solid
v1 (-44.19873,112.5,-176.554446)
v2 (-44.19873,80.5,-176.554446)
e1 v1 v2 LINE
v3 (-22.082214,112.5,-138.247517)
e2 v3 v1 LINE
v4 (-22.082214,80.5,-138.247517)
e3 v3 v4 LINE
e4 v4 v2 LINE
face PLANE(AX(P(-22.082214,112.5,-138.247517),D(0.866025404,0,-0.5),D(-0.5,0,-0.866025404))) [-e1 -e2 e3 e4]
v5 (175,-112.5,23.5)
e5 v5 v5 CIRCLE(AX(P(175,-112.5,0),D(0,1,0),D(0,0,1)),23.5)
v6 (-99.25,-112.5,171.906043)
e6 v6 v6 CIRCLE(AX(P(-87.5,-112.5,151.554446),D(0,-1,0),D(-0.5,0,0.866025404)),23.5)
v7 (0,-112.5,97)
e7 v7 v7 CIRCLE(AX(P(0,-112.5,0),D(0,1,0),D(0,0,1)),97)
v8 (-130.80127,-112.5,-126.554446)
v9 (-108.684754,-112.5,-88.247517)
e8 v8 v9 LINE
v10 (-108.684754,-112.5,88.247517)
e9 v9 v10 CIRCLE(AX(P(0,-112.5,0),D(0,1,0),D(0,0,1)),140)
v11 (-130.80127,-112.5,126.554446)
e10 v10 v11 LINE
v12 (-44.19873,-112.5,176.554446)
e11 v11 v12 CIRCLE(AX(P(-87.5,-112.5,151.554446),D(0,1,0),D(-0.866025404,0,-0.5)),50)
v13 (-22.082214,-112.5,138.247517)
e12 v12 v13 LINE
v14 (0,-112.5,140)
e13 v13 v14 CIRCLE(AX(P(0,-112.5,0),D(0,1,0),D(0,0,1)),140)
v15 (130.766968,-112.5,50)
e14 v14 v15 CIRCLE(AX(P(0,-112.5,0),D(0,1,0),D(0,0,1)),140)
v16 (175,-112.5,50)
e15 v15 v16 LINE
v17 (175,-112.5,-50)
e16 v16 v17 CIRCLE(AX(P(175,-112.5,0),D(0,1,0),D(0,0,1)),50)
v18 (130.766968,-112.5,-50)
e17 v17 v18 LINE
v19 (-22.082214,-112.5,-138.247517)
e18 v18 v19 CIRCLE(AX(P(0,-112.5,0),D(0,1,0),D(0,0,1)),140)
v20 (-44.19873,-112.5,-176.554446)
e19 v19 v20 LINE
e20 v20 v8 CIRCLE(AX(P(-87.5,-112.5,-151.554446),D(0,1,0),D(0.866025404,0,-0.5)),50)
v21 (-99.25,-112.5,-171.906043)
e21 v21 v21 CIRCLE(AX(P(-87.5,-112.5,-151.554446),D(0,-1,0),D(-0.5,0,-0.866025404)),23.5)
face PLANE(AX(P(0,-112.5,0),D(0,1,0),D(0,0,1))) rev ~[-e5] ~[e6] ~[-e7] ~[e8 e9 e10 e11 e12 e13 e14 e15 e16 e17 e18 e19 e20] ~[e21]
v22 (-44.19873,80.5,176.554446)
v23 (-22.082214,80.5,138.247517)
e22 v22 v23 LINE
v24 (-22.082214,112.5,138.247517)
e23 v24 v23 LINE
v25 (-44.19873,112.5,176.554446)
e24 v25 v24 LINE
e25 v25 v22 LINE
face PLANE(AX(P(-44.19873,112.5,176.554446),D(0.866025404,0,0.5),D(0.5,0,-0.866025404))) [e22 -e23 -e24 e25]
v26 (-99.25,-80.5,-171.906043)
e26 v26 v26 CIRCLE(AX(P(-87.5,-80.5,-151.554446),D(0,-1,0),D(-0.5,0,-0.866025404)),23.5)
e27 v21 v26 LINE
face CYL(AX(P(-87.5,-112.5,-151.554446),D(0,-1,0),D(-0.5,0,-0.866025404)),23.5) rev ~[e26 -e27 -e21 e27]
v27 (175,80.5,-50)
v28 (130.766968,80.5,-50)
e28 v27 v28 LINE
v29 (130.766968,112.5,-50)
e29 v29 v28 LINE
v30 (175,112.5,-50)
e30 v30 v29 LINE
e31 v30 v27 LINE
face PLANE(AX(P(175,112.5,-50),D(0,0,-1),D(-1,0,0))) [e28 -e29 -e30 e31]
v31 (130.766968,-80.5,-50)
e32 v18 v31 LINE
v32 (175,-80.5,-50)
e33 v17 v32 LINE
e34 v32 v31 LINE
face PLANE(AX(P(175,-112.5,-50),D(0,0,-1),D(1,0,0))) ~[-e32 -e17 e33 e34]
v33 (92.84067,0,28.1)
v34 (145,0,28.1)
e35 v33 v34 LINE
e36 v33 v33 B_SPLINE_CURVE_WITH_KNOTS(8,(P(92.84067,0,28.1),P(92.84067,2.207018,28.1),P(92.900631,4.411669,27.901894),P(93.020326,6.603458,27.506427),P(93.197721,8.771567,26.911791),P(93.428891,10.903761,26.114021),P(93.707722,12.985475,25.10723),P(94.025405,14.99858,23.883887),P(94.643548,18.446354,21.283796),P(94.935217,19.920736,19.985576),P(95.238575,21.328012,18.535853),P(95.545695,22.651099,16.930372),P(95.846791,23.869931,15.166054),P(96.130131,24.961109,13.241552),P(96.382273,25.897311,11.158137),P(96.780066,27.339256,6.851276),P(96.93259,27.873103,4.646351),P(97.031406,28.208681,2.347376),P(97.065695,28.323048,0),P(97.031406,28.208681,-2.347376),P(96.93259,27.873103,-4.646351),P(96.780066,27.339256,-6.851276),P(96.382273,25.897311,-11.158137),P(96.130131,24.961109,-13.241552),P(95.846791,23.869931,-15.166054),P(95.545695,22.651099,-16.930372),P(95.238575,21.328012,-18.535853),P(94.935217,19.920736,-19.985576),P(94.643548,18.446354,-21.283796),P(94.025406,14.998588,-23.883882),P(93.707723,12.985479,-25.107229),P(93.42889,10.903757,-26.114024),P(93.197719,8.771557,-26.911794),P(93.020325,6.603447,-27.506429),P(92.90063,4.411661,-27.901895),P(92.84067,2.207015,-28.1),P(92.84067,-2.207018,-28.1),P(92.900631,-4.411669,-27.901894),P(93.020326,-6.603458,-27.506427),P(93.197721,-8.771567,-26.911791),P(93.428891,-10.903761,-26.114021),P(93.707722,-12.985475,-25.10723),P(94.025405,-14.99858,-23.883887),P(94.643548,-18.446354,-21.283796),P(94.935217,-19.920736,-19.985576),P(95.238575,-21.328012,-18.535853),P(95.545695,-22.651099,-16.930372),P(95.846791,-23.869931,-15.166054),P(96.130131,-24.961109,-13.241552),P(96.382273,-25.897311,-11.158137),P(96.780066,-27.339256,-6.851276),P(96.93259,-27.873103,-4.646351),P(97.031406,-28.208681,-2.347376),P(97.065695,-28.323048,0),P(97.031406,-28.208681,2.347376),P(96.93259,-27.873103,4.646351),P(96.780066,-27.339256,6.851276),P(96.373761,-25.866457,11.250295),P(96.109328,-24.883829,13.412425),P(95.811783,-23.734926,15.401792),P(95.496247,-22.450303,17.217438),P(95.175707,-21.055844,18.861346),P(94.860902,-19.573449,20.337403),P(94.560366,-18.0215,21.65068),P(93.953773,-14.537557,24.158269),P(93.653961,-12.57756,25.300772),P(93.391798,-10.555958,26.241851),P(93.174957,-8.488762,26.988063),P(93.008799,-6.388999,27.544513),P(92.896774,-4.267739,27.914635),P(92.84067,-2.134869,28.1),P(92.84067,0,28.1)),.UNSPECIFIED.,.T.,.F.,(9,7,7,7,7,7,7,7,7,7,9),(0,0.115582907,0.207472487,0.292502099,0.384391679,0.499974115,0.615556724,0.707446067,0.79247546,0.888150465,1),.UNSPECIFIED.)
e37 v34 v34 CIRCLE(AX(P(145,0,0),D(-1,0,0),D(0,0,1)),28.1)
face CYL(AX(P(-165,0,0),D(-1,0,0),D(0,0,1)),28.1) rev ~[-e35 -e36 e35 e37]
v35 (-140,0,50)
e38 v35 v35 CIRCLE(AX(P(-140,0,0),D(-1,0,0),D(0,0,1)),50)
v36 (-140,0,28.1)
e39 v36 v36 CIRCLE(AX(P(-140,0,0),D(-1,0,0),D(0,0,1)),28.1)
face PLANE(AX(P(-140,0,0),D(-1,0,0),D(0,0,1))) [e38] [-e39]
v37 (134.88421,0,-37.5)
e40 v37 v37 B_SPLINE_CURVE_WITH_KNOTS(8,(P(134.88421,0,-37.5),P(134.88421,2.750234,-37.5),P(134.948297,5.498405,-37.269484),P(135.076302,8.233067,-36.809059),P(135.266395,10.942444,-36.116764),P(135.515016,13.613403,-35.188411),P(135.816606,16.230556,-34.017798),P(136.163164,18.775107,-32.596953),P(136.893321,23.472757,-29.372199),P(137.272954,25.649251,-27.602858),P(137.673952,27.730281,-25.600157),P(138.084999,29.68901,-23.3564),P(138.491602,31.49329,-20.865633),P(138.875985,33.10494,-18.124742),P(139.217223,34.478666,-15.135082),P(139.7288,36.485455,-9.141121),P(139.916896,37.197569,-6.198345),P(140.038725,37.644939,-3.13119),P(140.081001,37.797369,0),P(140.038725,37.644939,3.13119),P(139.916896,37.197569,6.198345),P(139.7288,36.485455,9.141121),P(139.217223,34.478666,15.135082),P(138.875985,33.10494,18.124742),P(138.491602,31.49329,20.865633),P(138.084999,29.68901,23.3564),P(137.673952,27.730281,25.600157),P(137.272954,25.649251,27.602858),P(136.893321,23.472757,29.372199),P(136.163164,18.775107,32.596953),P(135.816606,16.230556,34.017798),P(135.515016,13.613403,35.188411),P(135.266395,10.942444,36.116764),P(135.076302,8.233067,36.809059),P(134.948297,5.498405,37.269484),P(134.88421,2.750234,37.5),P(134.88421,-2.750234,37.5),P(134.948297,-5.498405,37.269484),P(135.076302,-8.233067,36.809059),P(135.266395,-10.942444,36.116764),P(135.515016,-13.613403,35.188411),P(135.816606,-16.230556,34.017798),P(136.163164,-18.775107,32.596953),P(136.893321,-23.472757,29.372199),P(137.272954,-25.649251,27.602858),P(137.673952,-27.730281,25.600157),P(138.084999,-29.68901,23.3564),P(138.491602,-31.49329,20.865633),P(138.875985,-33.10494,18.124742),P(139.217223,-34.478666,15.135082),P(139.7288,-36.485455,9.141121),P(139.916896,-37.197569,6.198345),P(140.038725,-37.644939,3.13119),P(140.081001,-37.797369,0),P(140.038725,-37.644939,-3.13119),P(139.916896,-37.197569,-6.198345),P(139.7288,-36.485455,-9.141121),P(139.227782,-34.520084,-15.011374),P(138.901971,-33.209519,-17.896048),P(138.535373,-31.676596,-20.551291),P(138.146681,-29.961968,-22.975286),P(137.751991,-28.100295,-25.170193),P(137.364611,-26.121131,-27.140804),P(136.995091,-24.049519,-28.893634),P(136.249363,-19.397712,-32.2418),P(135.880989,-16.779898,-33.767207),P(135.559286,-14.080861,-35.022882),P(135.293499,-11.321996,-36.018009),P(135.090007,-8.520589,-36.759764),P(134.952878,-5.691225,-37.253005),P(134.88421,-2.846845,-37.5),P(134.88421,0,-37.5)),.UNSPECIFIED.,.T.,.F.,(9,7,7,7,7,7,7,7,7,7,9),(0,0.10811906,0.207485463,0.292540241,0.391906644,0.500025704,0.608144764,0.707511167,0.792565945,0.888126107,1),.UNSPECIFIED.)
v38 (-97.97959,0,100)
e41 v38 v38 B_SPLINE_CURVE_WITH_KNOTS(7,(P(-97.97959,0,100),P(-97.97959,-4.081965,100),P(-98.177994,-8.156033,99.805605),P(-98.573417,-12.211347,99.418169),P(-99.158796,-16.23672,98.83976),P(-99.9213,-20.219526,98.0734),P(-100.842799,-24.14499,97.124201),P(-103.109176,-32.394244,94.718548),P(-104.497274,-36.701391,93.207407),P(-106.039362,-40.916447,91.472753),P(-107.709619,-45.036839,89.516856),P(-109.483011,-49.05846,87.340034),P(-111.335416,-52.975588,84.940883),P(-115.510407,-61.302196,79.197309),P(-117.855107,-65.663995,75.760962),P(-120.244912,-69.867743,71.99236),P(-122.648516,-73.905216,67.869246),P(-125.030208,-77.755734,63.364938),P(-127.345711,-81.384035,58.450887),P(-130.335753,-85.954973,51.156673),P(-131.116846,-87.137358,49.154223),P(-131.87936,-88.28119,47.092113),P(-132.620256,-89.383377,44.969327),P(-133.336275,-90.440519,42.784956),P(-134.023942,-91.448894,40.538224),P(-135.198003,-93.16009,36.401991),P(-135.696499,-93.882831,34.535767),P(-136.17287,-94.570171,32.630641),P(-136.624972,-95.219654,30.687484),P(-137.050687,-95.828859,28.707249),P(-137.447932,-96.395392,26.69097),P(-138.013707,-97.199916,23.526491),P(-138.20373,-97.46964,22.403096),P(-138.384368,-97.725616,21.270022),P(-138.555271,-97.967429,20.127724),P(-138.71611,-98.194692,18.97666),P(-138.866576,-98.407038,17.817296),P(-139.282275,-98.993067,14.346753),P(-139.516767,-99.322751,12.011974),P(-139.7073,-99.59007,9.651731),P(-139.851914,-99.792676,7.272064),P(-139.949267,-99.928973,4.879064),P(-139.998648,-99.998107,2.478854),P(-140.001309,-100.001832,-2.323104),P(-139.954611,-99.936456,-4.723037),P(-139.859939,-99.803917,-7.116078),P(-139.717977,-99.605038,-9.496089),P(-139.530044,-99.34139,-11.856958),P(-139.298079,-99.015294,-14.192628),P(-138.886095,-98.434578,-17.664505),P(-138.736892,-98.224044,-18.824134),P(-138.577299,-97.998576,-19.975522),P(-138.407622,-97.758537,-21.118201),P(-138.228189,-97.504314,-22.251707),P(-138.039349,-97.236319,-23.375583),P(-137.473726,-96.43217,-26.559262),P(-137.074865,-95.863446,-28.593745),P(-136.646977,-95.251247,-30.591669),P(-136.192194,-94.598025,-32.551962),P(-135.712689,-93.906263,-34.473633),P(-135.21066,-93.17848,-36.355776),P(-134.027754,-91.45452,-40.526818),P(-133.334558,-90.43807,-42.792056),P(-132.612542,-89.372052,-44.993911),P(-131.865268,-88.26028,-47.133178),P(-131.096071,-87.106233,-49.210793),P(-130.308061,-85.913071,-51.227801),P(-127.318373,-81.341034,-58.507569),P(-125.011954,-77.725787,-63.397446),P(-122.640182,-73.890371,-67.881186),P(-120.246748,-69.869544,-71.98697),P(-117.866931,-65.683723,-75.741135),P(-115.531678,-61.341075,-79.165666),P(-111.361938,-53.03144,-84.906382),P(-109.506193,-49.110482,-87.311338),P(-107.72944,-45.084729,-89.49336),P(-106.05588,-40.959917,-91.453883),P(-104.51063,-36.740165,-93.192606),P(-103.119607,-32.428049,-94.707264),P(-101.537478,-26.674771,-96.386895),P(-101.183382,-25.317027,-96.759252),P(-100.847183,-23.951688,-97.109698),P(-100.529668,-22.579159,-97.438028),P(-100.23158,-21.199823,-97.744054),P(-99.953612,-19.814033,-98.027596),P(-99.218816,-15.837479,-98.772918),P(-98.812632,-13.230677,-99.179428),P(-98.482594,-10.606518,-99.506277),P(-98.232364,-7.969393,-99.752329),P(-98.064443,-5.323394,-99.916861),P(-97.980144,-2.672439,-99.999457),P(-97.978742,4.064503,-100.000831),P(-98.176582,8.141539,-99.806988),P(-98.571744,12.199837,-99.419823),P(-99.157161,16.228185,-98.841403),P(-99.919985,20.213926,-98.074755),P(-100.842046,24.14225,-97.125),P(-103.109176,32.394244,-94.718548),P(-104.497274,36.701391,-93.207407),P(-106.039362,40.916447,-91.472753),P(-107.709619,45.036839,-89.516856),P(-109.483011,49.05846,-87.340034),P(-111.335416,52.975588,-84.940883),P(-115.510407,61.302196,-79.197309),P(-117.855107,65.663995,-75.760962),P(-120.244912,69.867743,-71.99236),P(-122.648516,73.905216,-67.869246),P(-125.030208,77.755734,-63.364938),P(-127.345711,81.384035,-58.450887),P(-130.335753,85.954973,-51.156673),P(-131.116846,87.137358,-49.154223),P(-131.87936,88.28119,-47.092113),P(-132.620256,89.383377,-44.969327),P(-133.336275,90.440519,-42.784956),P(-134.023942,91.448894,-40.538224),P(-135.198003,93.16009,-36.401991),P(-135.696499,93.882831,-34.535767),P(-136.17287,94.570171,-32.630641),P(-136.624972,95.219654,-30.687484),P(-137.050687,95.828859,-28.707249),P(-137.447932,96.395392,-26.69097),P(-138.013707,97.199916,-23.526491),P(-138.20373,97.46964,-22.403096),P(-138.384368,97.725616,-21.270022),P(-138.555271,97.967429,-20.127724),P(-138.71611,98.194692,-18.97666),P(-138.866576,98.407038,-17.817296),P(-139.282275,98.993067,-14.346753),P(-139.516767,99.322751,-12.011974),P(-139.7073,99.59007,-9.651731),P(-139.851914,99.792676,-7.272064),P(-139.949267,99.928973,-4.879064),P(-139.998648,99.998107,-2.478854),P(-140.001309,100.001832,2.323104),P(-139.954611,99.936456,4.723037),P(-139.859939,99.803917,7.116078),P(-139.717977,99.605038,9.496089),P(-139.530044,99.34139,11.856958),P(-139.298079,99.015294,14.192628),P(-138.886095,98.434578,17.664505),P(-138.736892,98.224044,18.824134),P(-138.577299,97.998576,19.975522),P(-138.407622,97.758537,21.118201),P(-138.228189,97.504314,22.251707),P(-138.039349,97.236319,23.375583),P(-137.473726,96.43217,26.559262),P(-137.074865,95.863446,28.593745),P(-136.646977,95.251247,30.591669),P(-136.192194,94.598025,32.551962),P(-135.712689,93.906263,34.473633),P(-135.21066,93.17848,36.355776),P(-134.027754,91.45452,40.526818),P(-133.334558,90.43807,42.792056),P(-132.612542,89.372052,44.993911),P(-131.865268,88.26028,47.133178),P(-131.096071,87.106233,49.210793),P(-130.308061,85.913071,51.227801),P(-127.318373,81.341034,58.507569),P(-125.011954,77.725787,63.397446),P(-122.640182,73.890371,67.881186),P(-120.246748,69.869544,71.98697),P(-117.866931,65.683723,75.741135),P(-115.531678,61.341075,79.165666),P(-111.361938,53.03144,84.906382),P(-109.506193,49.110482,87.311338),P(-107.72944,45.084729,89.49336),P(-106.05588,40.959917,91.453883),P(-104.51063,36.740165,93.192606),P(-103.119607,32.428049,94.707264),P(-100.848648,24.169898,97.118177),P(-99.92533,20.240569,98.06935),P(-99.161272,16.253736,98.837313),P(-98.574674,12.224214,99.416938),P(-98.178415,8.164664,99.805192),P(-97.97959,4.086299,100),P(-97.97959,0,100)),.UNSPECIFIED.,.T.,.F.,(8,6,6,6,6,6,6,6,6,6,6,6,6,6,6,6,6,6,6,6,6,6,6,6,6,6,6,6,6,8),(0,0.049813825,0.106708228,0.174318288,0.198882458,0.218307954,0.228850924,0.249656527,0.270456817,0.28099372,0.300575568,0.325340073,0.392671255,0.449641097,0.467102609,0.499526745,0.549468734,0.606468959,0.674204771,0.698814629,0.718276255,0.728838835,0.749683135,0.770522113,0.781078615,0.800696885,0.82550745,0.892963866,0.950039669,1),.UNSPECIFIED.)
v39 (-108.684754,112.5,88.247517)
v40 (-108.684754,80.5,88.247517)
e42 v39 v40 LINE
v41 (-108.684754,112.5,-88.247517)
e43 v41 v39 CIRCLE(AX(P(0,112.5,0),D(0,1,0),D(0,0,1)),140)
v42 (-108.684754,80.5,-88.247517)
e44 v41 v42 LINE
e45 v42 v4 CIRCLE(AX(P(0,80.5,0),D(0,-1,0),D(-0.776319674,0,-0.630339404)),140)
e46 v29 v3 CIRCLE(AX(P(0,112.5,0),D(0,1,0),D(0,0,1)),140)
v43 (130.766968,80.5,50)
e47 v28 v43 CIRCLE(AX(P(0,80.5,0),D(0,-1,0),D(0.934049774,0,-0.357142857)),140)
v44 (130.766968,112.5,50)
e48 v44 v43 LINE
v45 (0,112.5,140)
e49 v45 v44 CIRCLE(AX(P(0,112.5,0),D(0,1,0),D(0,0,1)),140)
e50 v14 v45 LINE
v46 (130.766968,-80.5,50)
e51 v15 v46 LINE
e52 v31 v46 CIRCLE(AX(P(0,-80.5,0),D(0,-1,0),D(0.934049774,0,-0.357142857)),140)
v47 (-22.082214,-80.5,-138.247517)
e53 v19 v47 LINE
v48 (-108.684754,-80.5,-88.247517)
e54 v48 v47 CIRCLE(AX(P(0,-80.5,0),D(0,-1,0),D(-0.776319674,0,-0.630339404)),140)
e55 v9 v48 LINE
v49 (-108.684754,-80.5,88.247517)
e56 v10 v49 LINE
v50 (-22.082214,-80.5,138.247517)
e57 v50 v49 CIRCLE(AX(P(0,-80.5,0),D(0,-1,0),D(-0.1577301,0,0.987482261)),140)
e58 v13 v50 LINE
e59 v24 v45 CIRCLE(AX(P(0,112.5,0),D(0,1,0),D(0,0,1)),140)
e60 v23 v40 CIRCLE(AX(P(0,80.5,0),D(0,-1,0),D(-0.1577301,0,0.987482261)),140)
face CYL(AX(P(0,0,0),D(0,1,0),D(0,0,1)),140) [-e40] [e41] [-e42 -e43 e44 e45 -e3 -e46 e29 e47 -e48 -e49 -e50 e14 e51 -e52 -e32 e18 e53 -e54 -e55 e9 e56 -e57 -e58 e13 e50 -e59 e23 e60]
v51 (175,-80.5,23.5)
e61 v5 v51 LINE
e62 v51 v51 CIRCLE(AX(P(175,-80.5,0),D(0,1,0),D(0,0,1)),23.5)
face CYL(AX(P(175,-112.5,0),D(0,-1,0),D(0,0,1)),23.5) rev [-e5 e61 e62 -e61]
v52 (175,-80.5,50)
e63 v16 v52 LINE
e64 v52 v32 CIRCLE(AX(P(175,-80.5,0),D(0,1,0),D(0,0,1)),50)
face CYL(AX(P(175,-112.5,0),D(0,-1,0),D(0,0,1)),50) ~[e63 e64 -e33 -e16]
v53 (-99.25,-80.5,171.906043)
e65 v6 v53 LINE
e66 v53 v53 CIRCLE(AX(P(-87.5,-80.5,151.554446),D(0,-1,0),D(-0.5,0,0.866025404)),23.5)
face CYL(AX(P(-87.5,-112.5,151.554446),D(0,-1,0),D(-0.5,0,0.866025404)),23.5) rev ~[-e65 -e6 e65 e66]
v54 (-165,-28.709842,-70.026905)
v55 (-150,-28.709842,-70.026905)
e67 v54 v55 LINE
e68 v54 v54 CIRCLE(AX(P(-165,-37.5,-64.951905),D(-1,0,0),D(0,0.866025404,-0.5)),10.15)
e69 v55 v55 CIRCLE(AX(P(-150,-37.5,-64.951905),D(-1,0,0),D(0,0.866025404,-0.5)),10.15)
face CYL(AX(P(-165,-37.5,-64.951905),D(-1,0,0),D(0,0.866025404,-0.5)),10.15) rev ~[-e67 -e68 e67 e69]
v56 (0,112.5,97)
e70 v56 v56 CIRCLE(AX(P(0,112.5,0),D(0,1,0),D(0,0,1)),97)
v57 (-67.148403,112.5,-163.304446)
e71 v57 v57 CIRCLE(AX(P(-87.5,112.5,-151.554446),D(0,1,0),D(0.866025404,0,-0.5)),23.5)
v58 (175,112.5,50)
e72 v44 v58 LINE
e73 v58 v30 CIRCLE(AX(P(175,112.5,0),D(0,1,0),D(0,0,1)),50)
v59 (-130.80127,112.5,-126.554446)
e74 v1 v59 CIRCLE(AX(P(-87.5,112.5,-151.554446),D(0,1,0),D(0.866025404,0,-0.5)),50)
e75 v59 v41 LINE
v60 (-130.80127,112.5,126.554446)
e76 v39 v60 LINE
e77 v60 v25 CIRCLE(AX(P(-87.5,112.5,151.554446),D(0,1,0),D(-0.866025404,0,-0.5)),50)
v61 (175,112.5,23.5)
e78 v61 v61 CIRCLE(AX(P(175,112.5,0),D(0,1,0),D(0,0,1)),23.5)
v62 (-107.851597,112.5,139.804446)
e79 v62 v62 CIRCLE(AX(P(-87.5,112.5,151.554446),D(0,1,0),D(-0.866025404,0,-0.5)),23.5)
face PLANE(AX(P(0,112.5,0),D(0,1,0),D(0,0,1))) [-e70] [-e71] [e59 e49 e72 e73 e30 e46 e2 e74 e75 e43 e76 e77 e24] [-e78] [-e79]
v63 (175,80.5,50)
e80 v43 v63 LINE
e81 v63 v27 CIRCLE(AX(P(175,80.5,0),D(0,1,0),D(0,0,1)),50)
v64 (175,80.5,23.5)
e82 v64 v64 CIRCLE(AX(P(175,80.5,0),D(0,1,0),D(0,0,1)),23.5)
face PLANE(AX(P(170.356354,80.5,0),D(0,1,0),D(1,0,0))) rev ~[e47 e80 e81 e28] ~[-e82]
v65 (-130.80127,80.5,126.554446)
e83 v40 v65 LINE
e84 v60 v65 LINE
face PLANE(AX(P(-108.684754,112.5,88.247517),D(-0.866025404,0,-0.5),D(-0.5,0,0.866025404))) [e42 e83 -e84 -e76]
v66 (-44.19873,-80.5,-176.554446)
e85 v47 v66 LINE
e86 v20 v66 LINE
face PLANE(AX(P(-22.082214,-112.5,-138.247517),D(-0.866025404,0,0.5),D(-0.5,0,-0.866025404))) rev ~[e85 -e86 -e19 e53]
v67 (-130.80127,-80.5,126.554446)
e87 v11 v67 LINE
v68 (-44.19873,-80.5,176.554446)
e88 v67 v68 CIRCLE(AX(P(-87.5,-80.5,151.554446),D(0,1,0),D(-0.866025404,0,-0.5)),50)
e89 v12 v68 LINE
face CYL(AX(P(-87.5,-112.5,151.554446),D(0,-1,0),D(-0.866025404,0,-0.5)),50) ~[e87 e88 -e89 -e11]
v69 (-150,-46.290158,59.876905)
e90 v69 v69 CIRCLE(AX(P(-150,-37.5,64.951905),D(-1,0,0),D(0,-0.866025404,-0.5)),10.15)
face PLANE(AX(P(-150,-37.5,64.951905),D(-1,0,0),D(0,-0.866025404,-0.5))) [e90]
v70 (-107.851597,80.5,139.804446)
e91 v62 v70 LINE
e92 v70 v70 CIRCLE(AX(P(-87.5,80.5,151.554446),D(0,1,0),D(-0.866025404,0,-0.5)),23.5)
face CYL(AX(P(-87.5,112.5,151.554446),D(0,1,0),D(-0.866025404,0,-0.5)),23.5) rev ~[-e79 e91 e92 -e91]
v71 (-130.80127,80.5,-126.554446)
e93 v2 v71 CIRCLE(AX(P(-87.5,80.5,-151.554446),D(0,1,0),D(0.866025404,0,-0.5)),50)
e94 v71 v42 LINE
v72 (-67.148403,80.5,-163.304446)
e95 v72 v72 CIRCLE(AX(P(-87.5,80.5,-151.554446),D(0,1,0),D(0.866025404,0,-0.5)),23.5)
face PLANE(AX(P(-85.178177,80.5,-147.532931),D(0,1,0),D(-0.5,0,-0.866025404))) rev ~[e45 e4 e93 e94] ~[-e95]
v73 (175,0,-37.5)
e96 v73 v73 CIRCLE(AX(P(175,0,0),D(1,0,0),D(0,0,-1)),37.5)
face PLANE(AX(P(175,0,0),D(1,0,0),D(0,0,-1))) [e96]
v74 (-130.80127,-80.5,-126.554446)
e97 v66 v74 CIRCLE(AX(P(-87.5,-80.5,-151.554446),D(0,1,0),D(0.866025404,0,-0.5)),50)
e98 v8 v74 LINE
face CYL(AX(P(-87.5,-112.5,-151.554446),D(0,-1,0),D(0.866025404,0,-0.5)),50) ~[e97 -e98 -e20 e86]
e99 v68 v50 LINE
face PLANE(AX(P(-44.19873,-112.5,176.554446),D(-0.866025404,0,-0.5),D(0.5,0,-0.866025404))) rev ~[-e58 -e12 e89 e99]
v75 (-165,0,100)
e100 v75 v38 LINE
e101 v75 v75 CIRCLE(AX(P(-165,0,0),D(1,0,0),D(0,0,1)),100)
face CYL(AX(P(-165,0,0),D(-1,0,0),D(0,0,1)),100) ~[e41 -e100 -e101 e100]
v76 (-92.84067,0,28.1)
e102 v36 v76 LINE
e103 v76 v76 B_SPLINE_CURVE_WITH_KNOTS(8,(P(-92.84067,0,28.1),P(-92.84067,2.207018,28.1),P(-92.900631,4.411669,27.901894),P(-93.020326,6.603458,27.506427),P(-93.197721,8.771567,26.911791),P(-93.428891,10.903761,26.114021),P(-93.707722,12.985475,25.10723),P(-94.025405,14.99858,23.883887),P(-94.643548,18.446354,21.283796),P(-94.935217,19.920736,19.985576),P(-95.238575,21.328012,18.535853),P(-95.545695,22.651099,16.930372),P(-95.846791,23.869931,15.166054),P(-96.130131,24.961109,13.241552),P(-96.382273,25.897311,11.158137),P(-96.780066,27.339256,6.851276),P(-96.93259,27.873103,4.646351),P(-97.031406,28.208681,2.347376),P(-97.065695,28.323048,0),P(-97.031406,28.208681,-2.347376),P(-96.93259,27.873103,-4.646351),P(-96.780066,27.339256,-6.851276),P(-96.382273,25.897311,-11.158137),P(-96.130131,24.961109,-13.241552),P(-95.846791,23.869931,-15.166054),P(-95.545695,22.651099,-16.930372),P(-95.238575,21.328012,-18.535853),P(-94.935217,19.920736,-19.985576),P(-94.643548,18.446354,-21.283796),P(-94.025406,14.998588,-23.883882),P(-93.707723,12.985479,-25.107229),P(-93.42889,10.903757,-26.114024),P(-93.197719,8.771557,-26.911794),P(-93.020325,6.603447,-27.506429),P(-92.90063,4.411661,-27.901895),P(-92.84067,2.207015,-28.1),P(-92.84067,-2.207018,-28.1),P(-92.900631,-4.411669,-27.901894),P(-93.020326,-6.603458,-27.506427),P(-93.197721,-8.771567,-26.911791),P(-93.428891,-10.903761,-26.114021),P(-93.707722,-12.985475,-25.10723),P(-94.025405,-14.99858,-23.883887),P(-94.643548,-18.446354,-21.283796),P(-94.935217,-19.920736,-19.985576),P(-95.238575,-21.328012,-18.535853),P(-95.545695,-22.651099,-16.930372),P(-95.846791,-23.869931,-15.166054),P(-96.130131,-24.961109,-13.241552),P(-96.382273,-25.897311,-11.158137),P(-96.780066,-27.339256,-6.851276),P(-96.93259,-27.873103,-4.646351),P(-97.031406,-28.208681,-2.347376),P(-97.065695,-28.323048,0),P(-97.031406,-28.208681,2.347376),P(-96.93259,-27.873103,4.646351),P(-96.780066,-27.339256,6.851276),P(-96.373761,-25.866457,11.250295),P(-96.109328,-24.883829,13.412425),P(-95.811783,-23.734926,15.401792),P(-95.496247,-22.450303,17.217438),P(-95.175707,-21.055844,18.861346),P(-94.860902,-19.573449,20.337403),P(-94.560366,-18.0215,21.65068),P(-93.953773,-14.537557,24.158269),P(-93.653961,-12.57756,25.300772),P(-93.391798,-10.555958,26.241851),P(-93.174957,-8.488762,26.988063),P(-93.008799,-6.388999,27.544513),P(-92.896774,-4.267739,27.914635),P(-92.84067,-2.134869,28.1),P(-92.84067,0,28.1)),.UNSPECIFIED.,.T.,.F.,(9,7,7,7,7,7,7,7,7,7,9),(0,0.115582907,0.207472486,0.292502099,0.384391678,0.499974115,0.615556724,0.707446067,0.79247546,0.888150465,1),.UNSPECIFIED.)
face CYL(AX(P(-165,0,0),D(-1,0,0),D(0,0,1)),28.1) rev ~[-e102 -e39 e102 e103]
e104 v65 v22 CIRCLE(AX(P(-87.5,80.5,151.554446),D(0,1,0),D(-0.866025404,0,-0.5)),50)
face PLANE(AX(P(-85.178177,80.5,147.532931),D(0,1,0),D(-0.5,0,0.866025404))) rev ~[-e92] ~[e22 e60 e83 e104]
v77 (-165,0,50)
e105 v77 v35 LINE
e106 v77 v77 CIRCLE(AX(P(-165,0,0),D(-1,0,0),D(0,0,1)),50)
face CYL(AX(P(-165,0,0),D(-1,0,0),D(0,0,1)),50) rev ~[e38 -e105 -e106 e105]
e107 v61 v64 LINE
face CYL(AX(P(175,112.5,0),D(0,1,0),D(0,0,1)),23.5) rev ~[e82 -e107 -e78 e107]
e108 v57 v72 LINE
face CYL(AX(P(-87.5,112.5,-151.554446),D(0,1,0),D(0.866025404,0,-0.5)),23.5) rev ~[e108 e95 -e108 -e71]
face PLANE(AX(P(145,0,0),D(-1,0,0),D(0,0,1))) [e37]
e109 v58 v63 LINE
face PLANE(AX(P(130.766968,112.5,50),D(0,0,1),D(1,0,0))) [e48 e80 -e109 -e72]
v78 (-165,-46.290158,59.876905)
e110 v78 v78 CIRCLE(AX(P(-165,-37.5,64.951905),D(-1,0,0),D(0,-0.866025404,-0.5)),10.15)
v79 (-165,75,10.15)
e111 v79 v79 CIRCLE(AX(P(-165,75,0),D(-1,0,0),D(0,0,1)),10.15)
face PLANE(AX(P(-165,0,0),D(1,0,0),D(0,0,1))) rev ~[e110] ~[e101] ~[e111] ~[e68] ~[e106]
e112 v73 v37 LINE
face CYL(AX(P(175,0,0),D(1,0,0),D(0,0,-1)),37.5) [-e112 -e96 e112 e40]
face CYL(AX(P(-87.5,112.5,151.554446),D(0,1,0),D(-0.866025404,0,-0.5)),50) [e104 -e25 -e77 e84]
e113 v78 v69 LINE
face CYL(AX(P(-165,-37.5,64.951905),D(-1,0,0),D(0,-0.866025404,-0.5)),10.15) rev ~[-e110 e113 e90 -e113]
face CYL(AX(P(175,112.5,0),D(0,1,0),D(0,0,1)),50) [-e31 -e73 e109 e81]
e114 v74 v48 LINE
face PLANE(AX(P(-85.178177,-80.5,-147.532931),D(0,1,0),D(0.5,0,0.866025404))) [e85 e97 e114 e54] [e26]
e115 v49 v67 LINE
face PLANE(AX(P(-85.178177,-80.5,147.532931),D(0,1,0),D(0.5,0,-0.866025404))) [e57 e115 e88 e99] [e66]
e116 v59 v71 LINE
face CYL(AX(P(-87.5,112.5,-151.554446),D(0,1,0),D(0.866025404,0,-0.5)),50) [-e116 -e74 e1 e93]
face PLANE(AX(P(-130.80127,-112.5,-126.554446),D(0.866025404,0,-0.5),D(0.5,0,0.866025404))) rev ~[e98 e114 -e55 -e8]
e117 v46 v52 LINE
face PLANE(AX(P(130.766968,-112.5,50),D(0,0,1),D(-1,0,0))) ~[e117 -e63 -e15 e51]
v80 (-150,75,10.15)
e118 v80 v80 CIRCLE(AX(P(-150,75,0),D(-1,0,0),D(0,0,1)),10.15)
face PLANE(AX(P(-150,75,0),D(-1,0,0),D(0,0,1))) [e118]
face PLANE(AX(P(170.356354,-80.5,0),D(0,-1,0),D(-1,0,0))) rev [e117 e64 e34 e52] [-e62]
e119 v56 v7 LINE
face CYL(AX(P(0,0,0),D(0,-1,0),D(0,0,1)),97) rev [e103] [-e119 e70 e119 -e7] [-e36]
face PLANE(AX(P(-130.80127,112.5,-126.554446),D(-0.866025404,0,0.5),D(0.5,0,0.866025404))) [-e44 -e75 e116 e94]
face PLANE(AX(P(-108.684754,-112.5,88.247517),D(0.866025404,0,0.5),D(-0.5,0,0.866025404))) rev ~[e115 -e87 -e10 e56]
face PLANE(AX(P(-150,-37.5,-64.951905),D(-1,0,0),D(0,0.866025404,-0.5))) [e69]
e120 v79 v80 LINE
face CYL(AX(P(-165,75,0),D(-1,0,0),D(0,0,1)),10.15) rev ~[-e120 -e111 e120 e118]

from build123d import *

# Parameters (mm, degrees)
SKETCH1_R                = 140
SKETCH1_R_2              = 97
BOSS_EXTRUDE1_DEPTH      = 112.5
SKETCH2_R                = 23.5
BOSS_EXTRUDE2_DEPTH      = 32
CIRPATTERN1_COUNT        = 3
MIRROR1_COPY_1_SKETCH_R  = 23.5
MIRROR1_COPY_1_DEPTH     = 32
MIRROR1_COPY_2_SKETCH_R  = 23.5
MIRROR1_COPY_2_DEPTH     = 32
BOSS_EXTRUDE3_REACH      = 489.344
BOSS_EXTRUDE3_END_RADIUS = 140
BOSS_EXTRUDE3_START      = -165
SKETCH3_R                = 100
BOSS_EXTRUDE4_REACH      = 499.344
BOSS_EXTRUDE4_END_RADIUS = 140
BOSS_EXTRUDE4_START      = 175
SKETCH4_R                = 37.5
SKETCH5_R                = 50
CUT_EXTRUDE1_DEPTH       = 25
SKETCH6_R                = 28.1
CUT_EXTRUDE2_DEPTH       = 310
SKETCH9_R                = 10.15
CUT_EXTRUDE3_DEPTH       = 15
CIRPATTERN2_COUNT        = 3


with BuildPart() as part:
    # Sketch1 → Boss-Extrude1 (new, symmetric)
    with BuildSketch(Plane(origin=(0, 0, 0), x_dir=(1, 0, 0), z_dir=(0, 1, 0))):
        with Locations(Location((0, 0, 0), (0, 0, 270))):
            Circle(SKETCH1_R)
        with Locations(Location((0, 0, 0), (0, 0, 270))):
            Circle(SKETCH1_R_2, mode=Mode.SUBTRACT)
    extrude(amount=BOSS_EXTRUDE1_DEPTH, both=True)

    # Sketch2 → Boss-Extrude2 (add)
    with BuildSketch(Plane(origin=(0, 112.5, 0), x_dir=(1, 0, 0), z_dir=(0, 1, 0))):
        with BuildLine():
            Line((175, 50), (130.766968306, 50))
            ThreePointArc((130.766968306, 50), (140, 0), (130.766968306, -50))
            Line((130.766968306, -50), (175, -50))
            ThreePointArc((175, -50), (225, 0), (175, 50))
        make_face()
        with Locations(Location((175, 0, 0), (0, 0, 270))):
            Circle(SKETCH2_R, mode=Mode.SUBTRACT)
    boss_extrude2 = extrude(amount=-BOSS_EXTRUDE2_DEPTH)

    # CirPattern1: Boss-Extrude2 ×3 about axis
    cirpattern1_axis = Axis((0, 0, 0), (0, 1, 0))
    for i in range(1, CIRPATTERN1_COUNT):
        add(boss_extrude2.rotate(cirpattern1_axis, i * 360 / CIRPATTERN1_COUNT))

    # Mirror1: Boss-Extrude2 across plane
    add(boss_extrude2.mirror(Plane.ZX))

    # Mirror1 copy 1 sketch → Mirror1 copy 1 (add)
    with BuildSketch(Plane(origin=(0, -112.5, 0), x_dir=(-0.4999999999999998, 0, -0.8660254037844387), z_dir=(0, -1, 0))):
        with BuildLine():
            Line((175, -50), (130.766968306, -50))
            ThreePointArc((130.766968306, -50), (140, 0), (130.766968306, 50))
            Line((130.766968306, 50), (175, 50))
            ThreePointArc((175, 50), (225, 0), (175, -50))
        make_face()
        with Locations((175, 0)):
            Circle(MIRROR1_COPY_1_SKETCH_R, mode=Mode.SUBTRACT)
    extrude(amount=-MIRROR1_COPY_1_DEPTH)

    # Mirror1 copy 2 sketch → Mirror1 copy 2 (add)
    with BuildSketch(Plane(origin=(0, -112.5, 0), x_dir=(-0.5000000000000004, 0, 0.8660254037844384), z_dir=(0, -1, 0))):
        with BuildLine():
            Line((175, -50), (130.766968306, -50))
            ThreePointArc((130.766968306, -50), (140, 0), (130.766968306, 50))
            Line((130.766968306, 50), (175, 50))
            ThreePointArc((175, 50), (225, 0), (175, -50))
        make_face()
        with Locations((175, 0)):
            Circle(MIRROR1_COPY_2_SKETCH_R, mode=Mode.SUBTRACT)
    extrude(amount=-MIRROR1_COPY_2_DEPTH)

    # Boss-Extrude3: up to this cylinder (the profile starts outside it)
    boss_extrude3_end = Plane(origin=(0, 0, 0), z_dir=(0, -1, 0)) * Cylinder(BOSS_EXTRUDE3_END_RADIUS, 1259.688, mode=Mode.PRIVATE)
    # Sketch3 → Boss-Extrude3 (add, up to the surface)
    with BuildSketch(Plane(origin=(0, 0, 0), x_dir=(0, 0, -1), z_dir=(1, 0, 0)).offset(BOSS_EXTRUDE3_START), mode=Mode.PRIVATE) as boss_extrude3_sk1:
        with Locations(Location((0, 0, 0), (0, 0, 180))):
            Circle(SKETCH3_R)
    boss_extrude3_tool1 = extrude(boss_extrude3_sk1.sketch, amount=BOSS_EXTRUDE3_REACH, mode=Mode.PRIVATE) - boss_extrude3_end
    add(boss_extrude3_tool1.solids().sort_by_distance((-165, 0, 0))[0])

    # Boss-Extrude4: up to this cylinder (the profile starts outside it)
    boss_extrude4_end = Plane(origin=(0, 0, 0), z_dir=(0, -1, 0)) * Cylinder(BOSS_EXTRUDE4_END_RADIUS, 1279.688, mode=Mode.PRIVATE)
    # Sketch4 → Boss-Extrude4 (add, up to the surface)
    with BuildSketch(Plane(origin=(0, 0, 0), x_dir=(0, 0, -1), z_dir=(1, 0, 0)).offset(BOSS_EXTRUDE4_START), mode=Mode.PRIVATE) as boss_extrude4_sk1:
        Circle(SKETCH4_R)
    boss_extrude4_tool1 = extrude(boss_extrude4_sk1.sketch, amount=-BOSS_EXTRUDE4_REACH, mode=Mode.PRIVATE) - boss_extrude4_end
    add(boss_extrude4_tool1.solids().sort_by_distance((175, 0, 0))[0])

    # Sketch5 → Cut-Extrude1 (cut)
    with BuildSketch(Plane.ZY.offset(165)):
        Circle(SKETCH5_R)
    extrude(amount=-CUT_EXTRUDE1_DEPTH, mode=Mode.SUBTRACT)

    # Sketch6 → Cut-Extrude2 (cut)
    with BuildSketch(Plane.ZY.offset(165)):
        Circle(SKETCH6_R)
    extrude(amount=-CUT_EXTRUDE2_DEPTH, mode=Mode.SUBTRACT)

    # Sketch9 → Cut-Extrude3 (cut)
    with BuildSketch(Plane.ZY.offset(165)):
        with Locations((0, 75)):
            Circle(SKETCH9_R)
    cut_extrude3 = extrude(amount=-CUT_EXTRUDE3_DEPTH, mode=Mode.SUBTRACT)

    # CirPattern2: Cut-Extrude3 ×3 about axis
    cirpattern2_axis = Axis((0, 0, 0), (1, 0, 0))
    for i in range(1, CIRPATTERN2_COUNT):
        add(cut_extrude3.rotate(cirpattern2_axis, i * 360 / CIRPATTERN2_COUNT), mode=Mode.SUBTRACT)


solid = part.part
